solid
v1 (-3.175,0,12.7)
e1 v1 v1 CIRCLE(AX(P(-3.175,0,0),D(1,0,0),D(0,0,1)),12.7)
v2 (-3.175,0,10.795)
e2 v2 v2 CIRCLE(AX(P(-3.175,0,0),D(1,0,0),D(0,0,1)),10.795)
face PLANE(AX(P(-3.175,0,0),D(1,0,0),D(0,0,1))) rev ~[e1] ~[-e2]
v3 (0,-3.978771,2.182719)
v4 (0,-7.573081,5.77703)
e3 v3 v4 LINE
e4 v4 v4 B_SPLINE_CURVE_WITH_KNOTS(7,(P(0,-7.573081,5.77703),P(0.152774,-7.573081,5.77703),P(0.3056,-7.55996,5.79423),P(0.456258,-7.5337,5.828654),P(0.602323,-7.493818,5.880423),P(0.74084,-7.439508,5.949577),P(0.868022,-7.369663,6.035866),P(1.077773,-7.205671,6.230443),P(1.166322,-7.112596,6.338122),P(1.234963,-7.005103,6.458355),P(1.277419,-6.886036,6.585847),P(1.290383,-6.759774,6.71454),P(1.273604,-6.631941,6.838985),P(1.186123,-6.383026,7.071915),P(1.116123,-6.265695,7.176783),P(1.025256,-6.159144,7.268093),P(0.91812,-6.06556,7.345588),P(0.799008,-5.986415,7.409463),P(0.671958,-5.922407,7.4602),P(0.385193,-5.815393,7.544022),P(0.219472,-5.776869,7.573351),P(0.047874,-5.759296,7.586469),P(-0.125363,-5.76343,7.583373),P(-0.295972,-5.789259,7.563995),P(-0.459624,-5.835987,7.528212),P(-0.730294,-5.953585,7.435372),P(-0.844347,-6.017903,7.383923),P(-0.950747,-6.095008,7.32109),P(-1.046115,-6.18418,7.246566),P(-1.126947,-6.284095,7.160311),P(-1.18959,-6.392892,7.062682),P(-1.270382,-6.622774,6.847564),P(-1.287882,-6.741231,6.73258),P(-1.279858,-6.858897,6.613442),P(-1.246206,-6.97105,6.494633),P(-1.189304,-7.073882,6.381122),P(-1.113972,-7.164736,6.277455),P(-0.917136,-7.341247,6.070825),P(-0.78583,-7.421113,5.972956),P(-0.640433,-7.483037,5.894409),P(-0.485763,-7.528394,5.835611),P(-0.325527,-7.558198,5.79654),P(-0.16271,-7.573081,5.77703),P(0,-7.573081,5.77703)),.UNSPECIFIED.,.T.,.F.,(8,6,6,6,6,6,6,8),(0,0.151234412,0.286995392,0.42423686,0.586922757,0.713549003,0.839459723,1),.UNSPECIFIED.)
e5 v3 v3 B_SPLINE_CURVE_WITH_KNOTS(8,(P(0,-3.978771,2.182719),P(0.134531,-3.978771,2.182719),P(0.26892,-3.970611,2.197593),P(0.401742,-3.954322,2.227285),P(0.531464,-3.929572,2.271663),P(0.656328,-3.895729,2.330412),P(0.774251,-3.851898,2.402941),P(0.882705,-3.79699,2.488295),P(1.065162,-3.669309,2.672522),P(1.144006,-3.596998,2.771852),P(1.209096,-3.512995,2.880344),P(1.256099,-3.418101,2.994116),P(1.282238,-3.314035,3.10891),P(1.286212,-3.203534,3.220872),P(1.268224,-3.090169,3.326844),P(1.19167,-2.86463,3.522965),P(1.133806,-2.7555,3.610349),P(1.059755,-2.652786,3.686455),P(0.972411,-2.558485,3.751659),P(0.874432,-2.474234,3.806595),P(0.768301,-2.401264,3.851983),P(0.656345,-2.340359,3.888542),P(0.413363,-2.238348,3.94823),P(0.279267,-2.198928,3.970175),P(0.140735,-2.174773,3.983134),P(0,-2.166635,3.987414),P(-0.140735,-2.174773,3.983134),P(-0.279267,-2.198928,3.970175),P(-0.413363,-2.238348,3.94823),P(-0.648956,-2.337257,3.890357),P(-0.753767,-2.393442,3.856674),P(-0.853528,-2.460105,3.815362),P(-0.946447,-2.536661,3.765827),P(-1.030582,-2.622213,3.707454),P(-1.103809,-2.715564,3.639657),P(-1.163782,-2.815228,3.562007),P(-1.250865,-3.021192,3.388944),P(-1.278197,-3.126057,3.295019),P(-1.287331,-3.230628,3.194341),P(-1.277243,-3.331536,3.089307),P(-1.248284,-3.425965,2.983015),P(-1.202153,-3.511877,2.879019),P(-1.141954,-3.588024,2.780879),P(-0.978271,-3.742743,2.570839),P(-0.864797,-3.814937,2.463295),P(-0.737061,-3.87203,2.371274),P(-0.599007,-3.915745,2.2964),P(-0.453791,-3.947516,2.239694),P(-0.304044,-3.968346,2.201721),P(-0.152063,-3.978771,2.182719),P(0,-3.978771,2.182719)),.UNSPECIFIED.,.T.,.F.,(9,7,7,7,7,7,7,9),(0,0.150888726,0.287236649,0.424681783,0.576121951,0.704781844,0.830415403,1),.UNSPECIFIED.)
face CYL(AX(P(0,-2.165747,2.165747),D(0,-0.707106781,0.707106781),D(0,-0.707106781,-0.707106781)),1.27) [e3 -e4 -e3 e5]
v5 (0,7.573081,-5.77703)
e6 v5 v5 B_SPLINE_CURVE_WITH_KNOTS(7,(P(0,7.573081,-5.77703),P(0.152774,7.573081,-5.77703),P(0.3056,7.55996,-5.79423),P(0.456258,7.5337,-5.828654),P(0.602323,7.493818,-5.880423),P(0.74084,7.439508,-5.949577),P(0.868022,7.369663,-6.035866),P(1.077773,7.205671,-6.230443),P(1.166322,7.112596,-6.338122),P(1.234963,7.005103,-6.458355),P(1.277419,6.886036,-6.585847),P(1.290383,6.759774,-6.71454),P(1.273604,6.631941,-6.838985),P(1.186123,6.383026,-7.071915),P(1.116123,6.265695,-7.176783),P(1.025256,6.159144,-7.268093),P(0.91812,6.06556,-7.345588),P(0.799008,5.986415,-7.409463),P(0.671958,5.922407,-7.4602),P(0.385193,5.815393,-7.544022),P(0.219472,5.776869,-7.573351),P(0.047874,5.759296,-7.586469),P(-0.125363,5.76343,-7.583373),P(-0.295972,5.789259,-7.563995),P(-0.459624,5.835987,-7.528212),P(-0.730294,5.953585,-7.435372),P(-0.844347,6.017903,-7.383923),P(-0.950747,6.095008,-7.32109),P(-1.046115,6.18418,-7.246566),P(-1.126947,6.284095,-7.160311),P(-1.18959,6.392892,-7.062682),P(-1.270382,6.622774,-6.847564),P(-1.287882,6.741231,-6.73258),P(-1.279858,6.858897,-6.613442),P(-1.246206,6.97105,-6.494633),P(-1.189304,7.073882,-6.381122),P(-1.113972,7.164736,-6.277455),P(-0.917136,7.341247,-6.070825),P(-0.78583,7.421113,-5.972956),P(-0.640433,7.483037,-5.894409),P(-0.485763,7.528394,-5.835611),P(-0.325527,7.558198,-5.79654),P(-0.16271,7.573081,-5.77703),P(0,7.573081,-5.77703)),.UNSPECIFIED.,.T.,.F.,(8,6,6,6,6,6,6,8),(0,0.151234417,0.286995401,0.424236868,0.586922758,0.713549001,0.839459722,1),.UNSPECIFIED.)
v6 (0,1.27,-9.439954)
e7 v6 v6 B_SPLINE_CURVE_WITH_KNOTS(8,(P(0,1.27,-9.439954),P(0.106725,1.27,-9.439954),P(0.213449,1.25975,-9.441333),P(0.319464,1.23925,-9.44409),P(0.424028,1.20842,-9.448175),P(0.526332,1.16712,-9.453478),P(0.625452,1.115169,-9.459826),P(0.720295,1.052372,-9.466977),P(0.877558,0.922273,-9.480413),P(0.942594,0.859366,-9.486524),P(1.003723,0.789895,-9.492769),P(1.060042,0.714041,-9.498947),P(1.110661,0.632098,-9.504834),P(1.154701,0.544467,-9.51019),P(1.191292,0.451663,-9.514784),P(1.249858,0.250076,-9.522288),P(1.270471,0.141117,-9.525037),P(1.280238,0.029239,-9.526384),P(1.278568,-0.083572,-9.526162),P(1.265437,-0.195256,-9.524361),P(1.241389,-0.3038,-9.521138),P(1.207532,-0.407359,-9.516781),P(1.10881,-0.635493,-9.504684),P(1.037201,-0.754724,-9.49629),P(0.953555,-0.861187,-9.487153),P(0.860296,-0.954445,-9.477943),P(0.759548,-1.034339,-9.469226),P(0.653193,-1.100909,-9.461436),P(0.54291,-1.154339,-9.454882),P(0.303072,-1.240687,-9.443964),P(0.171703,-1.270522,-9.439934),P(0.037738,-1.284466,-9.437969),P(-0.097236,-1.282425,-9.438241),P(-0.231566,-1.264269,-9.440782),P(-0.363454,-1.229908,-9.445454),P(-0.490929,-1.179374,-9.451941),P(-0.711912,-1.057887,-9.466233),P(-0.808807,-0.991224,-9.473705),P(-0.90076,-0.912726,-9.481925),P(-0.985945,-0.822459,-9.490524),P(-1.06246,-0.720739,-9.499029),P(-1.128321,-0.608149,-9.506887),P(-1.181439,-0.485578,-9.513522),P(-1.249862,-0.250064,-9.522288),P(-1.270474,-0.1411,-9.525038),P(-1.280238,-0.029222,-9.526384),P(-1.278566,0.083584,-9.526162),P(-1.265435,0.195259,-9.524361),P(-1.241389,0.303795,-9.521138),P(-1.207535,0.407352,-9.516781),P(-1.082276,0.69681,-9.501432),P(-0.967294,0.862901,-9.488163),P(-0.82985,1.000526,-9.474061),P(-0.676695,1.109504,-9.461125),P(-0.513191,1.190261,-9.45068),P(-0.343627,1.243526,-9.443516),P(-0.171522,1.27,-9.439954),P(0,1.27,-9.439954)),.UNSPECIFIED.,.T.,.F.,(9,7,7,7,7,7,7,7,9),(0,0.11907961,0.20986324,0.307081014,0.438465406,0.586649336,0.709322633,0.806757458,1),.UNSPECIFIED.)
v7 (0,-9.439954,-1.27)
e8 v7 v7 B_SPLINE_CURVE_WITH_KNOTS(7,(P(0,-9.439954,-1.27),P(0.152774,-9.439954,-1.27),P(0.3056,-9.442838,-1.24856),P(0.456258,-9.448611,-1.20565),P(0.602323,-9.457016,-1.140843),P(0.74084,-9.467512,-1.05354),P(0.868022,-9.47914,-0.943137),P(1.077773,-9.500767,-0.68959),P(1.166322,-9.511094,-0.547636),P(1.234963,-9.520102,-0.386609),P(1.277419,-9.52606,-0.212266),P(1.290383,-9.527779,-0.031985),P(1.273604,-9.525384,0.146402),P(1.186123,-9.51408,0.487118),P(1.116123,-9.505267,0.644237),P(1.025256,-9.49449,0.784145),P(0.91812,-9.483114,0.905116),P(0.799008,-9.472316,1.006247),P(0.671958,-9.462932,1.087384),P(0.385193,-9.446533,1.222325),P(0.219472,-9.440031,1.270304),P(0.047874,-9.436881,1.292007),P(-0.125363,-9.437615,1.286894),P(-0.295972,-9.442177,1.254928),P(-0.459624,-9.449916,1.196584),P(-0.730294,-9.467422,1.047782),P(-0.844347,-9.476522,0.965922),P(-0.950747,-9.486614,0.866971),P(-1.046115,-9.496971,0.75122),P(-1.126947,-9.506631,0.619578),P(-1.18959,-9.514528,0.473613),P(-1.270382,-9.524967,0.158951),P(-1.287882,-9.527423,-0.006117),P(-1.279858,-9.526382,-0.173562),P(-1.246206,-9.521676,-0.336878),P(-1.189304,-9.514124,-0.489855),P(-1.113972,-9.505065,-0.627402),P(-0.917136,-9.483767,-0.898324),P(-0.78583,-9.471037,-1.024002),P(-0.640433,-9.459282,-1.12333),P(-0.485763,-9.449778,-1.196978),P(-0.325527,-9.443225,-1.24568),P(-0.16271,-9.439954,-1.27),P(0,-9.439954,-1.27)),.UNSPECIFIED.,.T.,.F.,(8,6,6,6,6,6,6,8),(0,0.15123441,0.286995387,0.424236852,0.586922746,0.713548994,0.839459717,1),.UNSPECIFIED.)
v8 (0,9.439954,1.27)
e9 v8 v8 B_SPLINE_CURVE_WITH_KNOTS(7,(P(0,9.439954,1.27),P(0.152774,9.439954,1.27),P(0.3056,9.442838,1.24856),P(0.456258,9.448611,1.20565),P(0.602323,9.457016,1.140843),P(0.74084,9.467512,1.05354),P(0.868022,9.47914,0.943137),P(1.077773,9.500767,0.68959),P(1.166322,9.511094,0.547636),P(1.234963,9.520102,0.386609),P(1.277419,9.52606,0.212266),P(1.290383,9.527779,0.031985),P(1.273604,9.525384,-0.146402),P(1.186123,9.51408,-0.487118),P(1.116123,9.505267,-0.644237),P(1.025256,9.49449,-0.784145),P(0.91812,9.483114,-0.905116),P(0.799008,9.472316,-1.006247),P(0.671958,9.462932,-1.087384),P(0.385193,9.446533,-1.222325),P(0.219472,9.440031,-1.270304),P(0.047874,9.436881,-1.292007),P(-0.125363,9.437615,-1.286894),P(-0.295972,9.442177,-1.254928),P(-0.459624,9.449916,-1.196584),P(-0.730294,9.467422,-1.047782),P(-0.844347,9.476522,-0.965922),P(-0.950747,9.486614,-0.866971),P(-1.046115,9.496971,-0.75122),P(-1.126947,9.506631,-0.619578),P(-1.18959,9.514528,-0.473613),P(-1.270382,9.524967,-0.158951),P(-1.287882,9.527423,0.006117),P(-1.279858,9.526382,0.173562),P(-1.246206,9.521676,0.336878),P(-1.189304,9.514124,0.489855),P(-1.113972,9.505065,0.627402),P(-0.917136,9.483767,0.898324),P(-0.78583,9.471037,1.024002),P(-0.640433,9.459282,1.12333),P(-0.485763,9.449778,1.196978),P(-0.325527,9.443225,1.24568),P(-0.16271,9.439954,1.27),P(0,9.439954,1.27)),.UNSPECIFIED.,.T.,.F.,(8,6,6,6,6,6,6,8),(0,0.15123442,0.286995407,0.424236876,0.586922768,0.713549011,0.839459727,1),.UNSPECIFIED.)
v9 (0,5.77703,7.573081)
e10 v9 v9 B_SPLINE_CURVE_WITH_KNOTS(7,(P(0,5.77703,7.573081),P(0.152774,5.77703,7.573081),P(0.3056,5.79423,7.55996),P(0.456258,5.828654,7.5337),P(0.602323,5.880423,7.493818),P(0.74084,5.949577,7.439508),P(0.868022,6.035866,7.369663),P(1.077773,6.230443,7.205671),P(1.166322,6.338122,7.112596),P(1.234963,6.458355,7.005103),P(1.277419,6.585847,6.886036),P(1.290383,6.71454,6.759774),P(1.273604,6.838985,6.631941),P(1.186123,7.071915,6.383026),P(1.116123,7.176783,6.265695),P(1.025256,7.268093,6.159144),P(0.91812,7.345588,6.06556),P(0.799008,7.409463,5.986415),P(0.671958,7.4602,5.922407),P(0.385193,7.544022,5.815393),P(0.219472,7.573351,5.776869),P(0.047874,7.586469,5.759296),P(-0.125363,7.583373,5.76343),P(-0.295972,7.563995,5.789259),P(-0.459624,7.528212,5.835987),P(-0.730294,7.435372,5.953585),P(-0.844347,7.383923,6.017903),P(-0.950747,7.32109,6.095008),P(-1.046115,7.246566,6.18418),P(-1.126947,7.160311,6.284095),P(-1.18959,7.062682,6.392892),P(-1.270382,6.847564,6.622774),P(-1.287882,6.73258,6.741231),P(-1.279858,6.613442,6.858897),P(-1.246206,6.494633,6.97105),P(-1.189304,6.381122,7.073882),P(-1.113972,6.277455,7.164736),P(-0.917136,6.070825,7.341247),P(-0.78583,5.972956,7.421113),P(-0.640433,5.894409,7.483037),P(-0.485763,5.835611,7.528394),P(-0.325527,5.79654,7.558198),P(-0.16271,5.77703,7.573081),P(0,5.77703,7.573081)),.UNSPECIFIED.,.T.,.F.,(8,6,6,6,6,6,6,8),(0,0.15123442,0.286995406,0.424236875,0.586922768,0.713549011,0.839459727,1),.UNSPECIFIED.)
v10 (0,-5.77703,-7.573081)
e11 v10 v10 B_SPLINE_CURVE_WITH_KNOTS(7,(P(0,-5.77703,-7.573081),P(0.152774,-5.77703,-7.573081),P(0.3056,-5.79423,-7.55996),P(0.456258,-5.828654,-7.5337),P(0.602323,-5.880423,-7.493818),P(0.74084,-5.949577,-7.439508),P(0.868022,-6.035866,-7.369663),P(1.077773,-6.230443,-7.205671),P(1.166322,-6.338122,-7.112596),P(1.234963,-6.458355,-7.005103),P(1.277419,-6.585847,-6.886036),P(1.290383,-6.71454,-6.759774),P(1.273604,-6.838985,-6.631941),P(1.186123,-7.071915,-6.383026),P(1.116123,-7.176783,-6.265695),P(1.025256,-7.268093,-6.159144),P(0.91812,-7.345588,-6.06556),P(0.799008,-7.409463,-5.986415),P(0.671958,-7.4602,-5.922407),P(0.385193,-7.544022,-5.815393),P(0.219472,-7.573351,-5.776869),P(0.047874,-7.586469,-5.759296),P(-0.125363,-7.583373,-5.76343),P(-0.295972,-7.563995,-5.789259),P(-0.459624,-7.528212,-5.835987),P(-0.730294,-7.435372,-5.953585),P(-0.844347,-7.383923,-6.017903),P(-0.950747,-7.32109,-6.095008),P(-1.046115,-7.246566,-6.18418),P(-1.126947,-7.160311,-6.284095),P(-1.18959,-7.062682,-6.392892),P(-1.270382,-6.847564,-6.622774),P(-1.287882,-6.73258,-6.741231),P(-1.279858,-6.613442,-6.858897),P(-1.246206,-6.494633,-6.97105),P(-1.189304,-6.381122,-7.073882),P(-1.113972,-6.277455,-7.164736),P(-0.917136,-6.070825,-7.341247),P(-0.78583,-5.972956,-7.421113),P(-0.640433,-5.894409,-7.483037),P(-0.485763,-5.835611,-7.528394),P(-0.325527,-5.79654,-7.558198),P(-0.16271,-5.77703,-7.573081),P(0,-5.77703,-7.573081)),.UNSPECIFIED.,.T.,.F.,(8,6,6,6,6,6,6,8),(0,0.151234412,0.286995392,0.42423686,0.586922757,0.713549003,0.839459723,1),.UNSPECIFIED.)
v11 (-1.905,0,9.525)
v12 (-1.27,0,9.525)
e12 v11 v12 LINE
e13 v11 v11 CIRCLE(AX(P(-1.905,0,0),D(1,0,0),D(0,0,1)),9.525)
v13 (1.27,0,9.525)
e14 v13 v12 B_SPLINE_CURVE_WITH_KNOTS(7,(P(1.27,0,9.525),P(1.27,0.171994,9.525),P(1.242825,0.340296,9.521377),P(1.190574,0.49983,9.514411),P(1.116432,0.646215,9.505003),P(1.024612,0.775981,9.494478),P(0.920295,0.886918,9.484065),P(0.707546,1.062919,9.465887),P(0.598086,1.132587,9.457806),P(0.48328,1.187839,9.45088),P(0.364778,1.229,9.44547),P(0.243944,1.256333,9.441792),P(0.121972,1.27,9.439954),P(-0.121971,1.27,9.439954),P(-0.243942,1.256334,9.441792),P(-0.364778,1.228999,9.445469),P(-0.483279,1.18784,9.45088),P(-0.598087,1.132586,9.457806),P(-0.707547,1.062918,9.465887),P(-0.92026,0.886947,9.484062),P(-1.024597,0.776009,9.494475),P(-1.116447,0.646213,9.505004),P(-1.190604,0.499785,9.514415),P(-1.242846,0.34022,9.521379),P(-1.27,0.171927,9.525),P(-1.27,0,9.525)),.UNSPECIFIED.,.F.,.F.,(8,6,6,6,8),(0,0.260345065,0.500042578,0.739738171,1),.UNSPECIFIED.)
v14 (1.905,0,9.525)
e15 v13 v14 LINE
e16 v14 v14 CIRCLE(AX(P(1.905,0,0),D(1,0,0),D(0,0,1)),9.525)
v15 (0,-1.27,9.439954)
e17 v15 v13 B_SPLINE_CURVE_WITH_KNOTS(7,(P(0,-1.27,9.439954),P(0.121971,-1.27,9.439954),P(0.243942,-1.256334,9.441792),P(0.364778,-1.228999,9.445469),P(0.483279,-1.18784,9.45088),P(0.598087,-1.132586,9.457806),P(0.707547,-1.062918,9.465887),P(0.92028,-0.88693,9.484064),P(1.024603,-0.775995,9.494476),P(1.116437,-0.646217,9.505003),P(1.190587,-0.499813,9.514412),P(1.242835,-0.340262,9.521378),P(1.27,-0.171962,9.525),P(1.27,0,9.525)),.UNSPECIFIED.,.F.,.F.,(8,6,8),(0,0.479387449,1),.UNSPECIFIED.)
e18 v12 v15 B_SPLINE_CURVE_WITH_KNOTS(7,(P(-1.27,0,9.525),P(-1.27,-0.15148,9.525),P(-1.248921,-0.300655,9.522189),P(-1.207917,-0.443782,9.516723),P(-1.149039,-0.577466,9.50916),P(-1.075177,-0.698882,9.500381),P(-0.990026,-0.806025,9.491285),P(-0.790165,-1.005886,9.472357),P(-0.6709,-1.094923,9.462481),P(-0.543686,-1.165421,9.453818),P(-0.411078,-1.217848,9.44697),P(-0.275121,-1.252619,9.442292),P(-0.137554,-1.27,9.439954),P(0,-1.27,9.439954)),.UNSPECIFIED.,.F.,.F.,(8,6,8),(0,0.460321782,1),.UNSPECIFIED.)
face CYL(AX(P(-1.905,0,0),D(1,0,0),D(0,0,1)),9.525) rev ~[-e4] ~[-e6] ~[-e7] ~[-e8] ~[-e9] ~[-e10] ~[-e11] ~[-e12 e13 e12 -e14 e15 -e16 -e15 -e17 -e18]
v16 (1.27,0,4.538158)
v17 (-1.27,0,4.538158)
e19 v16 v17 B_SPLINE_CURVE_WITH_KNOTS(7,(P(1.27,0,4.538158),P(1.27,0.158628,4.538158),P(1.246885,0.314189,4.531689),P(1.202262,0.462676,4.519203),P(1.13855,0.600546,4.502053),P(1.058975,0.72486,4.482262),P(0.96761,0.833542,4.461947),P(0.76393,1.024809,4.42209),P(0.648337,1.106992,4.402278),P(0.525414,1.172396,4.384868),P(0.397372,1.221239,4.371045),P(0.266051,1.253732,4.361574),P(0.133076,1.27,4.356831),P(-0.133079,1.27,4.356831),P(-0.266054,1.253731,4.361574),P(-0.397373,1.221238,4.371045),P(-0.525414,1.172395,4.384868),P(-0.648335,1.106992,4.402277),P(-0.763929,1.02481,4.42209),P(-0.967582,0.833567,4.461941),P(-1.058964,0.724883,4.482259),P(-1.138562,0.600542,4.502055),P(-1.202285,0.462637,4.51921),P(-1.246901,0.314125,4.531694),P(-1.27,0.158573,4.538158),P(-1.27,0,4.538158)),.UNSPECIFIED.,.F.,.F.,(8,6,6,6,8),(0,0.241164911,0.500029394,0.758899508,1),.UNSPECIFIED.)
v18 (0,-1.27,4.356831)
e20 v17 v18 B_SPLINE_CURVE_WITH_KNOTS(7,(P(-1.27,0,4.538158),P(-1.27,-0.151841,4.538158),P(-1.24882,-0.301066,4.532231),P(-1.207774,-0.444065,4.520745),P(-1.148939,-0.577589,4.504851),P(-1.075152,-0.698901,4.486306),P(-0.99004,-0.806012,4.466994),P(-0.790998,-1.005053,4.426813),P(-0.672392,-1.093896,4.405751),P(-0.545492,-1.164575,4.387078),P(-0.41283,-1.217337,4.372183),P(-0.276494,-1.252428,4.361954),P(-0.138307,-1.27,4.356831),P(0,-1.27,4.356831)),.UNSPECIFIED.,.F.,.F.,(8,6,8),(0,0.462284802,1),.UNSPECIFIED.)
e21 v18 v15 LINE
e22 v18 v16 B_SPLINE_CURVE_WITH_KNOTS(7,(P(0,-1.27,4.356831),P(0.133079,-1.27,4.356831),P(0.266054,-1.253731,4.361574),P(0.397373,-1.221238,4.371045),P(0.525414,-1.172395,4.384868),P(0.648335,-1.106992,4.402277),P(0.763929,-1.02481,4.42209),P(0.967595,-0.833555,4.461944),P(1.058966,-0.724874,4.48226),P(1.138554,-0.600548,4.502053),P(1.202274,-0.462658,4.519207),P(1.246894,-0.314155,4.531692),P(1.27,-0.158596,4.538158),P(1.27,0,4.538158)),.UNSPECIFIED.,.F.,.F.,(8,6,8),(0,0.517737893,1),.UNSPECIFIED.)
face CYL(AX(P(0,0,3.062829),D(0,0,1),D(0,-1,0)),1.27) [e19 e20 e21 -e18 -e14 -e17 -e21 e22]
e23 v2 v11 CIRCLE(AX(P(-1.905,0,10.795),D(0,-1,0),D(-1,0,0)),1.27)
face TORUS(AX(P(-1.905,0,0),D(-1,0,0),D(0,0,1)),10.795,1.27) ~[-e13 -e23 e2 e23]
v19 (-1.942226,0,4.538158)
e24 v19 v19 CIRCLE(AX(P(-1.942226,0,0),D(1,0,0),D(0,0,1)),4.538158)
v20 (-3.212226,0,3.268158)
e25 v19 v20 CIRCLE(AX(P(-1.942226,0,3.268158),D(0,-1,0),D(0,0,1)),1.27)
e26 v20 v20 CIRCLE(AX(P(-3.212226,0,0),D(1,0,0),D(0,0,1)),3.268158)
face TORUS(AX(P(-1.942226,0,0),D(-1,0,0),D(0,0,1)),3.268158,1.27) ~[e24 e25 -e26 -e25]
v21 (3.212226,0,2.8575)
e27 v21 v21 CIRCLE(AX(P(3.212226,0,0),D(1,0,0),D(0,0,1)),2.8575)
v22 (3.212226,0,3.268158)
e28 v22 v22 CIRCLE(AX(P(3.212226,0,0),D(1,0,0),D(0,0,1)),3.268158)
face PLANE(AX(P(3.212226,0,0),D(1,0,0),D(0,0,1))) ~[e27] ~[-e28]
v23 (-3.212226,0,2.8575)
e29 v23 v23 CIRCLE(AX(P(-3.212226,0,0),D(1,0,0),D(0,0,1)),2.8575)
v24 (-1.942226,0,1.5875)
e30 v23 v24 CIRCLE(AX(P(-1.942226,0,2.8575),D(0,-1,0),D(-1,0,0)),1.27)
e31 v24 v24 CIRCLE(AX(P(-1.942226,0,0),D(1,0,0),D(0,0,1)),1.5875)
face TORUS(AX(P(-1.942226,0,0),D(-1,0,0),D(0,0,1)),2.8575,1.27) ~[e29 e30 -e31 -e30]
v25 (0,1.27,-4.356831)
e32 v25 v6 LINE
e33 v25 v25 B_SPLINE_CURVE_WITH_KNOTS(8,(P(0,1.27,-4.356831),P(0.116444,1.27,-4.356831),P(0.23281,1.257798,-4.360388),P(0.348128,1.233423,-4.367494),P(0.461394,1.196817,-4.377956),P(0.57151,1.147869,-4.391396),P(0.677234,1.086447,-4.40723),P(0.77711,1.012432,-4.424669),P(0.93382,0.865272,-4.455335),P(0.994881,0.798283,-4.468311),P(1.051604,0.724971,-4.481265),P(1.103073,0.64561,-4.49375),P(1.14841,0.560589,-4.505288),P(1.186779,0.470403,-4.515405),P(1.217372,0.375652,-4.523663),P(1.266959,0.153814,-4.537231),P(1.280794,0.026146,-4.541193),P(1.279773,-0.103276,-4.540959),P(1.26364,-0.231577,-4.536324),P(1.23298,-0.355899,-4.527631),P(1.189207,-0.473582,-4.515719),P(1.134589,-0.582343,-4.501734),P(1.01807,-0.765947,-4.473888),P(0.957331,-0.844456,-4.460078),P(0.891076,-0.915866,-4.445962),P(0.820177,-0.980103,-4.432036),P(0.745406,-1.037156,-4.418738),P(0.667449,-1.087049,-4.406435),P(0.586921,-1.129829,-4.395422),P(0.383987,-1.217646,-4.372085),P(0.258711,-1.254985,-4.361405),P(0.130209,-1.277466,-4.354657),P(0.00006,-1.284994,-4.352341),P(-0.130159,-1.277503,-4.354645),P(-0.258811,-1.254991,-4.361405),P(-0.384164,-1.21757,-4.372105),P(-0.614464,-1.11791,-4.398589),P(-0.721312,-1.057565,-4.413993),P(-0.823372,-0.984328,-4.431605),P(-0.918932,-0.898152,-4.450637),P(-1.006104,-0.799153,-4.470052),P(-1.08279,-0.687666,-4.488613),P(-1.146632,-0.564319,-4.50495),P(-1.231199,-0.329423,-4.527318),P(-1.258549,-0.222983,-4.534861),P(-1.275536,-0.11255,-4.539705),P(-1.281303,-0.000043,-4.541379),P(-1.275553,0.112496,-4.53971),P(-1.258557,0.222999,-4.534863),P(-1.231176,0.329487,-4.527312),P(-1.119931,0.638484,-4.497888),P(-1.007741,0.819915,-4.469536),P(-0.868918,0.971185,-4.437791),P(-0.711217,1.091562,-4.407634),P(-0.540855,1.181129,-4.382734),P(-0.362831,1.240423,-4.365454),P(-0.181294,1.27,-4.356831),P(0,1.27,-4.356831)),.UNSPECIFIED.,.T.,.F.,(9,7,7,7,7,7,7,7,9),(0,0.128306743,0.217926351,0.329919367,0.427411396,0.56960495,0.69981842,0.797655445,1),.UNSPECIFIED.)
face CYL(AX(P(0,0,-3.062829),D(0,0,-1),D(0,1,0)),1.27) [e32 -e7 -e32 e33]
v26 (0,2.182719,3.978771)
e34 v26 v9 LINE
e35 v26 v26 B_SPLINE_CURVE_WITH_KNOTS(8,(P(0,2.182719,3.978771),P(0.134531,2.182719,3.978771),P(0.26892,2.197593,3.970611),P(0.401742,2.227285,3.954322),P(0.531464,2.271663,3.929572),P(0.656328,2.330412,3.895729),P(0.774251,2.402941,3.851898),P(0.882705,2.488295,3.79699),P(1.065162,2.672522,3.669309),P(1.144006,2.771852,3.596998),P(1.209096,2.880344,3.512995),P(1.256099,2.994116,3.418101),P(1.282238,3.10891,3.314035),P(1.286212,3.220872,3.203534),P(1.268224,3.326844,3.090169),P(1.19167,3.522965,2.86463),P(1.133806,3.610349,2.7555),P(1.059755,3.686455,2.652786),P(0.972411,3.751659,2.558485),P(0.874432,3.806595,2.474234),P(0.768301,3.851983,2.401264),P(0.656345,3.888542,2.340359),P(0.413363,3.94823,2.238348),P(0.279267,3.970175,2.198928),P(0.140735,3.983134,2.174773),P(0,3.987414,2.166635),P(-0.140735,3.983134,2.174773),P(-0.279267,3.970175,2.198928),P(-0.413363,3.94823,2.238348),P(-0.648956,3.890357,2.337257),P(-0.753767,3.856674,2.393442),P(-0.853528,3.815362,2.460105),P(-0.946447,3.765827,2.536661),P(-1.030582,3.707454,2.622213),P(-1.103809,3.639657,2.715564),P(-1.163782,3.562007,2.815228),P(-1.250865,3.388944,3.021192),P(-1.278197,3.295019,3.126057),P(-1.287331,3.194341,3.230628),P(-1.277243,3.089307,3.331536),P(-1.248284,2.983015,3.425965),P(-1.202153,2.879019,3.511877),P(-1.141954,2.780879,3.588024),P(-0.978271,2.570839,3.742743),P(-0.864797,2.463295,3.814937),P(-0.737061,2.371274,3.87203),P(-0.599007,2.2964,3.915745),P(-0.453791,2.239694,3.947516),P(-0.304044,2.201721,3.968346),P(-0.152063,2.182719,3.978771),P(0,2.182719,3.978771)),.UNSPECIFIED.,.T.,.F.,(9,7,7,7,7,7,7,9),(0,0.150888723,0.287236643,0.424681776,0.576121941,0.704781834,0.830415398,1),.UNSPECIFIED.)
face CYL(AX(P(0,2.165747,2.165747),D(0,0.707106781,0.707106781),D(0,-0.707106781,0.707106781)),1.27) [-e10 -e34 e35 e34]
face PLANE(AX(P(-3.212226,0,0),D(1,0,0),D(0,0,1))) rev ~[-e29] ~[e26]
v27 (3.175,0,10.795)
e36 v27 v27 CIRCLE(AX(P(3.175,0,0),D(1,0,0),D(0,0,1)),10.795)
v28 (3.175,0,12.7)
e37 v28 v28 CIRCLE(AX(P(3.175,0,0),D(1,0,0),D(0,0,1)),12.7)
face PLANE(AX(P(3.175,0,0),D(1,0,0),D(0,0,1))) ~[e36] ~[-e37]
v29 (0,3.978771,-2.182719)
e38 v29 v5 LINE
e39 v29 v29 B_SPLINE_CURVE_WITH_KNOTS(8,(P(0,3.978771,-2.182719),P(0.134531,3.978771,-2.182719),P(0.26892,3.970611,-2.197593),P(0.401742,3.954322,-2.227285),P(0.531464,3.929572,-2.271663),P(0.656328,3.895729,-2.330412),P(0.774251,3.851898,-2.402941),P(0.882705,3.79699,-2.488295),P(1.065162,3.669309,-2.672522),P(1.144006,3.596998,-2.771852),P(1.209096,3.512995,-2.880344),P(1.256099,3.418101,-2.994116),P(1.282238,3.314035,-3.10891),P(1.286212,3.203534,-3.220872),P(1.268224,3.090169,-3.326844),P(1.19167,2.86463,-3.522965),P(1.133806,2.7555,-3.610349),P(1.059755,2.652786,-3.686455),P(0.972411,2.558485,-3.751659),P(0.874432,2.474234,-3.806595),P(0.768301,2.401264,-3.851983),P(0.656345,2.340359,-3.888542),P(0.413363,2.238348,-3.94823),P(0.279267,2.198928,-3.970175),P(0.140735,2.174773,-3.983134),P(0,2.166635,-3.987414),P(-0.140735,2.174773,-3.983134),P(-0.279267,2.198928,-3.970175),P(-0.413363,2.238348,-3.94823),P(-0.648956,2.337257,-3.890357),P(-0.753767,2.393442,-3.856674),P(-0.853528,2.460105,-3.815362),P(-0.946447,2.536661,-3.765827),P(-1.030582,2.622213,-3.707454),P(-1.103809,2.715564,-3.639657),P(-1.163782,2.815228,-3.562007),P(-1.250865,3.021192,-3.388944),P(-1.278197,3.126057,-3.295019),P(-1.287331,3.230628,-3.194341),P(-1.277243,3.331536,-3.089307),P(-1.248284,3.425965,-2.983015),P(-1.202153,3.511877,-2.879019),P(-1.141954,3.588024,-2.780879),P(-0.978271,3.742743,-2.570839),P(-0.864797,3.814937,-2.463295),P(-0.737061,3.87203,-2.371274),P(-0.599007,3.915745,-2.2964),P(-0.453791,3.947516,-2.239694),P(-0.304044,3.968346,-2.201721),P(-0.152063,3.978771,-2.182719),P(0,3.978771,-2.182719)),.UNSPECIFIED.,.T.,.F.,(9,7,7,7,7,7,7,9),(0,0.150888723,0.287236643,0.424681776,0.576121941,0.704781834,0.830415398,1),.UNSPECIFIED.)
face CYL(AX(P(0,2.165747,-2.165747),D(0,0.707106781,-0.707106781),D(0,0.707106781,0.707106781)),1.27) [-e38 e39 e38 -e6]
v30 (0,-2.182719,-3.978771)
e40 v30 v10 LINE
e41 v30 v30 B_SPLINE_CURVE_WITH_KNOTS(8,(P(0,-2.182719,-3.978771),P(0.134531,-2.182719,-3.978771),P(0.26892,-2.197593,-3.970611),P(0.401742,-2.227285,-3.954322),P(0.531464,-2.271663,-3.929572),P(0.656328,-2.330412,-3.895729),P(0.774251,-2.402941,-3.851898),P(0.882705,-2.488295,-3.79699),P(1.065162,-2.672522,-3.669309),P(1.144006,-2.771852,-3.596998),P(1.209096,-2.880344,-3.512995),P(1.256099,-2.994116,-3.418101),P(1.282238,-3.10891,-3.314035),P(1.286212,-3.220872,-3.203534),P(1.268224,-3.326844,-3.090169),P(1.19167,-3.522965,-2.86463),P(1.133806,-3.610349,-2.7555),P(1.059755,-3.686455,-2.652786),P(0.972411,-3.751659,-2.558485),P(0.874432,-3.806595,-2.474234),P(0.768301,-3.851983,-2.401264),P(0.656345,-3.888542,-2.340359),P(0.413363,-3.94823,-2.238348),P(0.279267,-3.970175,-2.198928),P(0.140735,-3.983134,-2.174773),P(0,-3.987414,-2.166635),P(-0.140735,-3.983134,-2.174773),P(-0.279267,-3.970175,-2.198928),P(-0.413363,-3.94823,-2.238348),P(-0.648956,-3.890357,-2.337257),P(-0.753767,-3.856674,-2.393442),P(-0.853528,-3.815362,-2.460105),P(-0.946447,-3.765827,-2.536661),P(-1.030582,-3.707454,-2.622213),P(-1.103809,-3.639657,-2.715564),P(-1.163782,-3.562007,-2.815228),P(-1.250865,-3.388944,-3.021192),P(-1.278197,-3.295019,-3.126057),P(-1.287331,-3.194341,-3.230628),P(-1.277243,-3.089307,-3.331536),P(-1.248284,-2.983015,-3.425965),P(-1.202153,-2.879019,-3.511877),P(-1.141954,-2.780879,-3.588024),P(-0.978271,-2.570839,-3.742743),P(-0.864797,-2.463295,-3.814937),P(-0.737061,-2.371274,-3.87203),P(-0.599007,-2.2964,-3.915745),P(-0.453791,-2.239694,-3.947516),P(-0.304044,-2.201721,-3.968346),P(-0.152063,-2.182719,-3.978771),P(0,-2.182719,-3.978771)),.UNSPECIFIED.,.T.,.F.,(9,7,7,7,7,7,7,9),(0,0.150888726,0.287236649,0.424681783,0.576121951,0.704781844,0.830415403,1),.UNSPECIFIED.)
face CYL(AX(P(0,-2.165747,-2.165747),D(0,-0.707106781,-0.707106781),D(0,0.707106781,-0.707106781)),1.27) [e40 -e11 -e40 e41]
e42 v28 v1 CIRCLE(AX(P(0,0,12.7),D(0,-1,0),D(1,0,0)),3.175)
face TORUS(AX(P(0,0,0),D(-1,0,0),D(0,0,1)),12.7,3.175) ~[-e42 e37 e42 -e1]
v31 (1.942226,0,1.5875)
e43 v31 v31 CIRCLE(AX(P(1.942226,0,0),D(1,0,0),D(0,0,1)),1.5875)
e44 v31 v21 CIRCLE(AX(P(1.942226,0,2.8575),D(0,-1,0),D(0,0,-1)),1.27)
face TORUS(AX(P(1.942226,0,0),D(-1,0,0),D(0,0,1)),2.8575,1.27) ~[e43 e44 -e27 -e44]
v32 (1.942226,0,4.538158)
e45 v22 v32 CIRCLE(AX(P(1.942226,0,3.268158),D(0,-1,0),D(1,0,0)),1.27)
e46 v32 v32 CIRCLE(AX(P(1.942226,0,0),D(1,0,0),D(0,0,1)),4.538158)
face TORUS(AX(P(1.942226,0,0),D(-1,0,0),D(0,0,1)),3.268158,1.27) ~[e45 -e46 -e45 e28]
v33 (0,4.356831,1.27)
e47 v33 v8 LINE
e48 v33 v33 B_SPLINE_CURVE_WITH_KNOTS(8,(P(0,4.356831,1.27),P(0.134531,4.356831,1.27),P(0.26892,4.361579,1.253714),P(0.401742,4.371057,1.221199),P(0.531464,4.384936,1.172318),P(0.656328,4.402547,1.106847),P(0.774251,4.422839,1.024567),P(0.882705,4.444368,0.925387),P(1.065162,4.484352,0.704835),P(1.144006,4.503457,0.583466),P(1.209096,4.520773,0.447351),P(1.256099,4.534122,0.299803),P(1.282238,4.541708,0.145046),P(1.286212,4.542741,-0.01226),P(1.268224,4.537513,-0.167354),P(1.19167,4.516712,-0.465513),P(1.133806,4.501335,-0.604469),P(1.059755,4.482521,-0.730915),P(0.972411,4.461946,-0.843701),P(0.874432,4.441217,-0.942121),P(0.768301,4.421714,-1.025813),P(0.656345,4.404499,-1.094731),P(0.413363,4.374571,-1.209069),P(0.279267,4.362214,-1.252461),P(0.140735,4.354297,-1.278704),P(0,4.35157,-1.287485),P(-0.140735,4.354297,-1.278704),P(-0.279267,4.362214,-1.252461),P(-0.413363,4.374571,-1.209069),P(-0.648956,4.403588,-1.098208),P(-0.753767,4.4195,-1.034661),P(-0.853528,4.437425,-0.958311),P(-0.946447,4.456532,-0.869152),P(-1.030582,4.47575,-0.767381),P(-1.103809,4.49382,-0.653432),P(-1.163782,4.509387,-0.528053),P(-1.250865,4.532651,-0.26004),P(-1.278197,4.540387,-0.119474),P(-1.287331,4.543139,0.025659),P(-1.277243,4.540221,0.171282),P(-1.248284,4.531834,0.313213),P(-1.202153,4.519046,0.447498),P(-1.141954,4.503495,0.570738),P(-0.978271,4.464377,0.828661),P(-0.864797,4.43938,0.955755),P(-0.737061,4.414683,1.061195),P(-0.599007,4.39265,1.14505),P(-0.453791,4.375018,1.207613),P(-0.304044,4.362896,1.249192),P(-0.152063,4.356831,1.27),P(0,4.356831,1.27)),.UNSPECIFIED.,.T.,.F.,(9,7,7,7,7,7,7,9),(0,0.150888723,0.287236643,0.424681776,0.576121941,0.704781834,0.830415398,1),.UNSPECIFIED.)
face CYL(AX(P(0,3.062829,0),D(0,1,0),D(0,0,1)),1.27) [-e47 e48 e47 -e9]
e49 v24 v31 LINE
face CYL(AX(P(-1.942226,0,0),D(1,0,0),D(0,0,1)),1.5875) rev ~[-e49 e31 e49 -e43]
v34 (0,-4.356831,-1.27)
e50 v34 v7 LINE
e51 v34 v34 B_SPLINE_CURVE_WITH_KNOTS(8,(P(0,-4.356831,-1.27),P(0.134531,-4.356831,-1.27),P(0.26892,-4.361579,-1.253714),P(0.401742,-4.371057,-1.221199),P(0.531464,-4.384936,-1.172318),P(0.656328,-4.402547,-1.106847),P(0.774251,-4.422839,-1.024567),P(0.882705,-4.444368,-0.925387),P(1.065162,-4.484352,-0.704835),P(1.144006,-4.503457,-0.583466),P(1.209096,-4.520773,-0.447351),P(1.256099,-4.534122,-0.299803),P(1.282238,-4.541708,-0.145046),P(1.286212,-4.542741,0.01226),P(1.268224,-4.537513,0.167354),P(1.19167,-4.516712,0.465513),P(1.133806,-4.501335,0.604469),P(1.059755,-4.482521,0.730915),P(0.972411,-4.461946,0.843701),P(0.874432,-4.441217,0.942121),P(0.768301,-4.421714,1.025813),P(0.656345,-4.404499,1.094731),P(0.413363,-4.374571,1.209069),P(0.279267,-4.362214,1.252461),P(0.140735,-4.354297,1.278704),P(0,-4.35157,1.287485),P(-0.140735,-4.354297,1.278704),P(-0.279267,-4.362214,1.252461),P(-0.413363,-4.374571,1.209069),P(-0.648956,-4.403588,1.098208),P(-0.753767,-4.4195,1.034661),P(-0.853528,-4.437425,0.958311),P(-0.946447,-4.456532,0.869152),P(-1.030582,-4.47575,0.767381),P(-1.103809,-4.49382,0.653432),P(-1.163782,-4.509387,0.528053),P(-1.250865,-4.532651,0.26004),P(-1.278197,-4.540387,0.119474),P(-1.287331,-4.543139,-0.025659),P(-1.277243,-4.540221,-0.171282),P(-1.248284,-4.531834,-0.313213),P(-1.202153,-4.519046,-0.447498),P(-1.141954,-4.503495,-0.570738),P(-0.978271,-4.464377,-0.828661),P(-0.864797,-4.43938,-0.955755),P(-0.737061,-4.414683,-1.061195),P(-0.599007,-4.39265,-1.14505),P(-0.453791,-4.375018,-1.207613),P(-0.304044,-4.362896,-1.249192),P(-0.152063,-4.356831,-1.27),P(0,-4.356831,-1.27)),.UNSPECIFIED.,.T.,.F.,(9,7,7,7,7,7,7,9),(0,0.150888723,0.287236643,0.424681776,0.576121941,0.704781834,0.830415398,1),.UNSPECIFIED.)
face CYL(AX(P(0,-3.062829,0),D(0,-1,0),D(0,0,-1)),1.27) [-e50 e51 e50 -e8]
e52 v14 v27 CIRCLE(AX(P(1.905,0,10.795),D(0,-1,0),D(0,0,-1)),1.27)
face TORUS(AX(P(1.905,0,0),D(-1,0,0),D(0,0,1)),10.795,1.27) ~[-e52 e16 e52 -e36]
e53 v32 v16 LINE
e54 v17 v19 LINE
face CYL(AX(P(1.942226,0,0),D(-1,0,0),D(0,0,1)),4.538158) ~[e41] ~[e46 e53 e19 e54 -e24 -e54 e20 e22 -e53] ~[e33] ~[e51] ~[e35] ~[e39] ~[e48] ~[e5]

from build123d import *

# Parameters (mm, degrees)
SWEEP1_PROFILE_R  = 1.27
CIRPATTERN1_COUNT = 8


with BuildPart() as part:
    # Sketch3 → Revolve1 (revolve)
    with BuildSketch(Plane.XY, mode=Mode.PRIVATE) as revolve1_sk:
        with BuildLine():
            Line((-1.942226168, 1.5875), (1.942226168, 1.5875))
            ThreePointArc((1.942226168, 1.5875), (2.84025178, 1.959474388), (3.212226168, 2.8575))
            Line((3.212226168, 2.8575), (3.212226168, 3.268158252))
            ThreePointArc((3.212226168, 3.268158252), (2.84025178, 4.166183864), (1.942226168, 4.538158252))
            Line((1.942226168, 4.538158252), (-1.942226168, 4.538158252))
            ThreePointArc((-1.942226168, 4.538158252), (-2.84025178, 4.166183864), (-3.212226168, 3.268158252))
            Line((-3.212226168, 3.268158252), (-3.212226168, 2.8575))
            ThreePointArc((-3.212226168, 2.8575), (-2.84025178, 1.959474388), (-1.942226168, 1.5875))
        make_face()
        with BuildLine():
            Line((-3.175, 12.7), (-3.175, 10.795))
            ThreePointArc((-3.175, 10.795), (-2.803025612, 9.896974388), (-1.905, 9.525))
            Line((-1.905, 9.525), (1.905, 9.525))
            ThreePointArc((1.905, 9.525), (2.803025612, 9.896974388), (3.175, 10.795))
            Line((3.175, 10.795), (3.175, 12.7))
            ThreePointArc((3.175, 12.7), (0, 15.875), (-3.175, 12.7))
        make_face()
    revolve(revolve1_sk.sketch.rotate(Axis((-11.977214198, 0, 0), (1, 0, 0)), 90), axis=Axis((-11.977214198, 0, 0), (1, 0, 0)))

    # Sweep1: sweep along a path in Sketch5
    with BuildLine(Plane(origin=(0, 0, 0), x_dir=(0, 0, -1), z_dir=(1, 0, 0))) as sweep1_path:
        Line((0, 3.062829126), (0, 12.7))
    # Sweep1 profile (on start of the path) → Sweep1 (sweep)
    with BuildSketch(Plane.ZX.offset(3.062829126)):
        Circle(SWEEP1_PROFILE_R)
    sweep1 = sweep(path=sweep1_path.line)

    # CirPattern1: Sweep1 ×8 about axis
    cirpattern1_axis = Axis((-11.977214198, 0, 0), (1, 0, 0))
    for i in range(1, CIRPATTERN1_COUNT):
        add(sweep1.rotate(cirpattern1_axis, i * 360 / CIRPATTERN1_COUNT))


solid = part.part
